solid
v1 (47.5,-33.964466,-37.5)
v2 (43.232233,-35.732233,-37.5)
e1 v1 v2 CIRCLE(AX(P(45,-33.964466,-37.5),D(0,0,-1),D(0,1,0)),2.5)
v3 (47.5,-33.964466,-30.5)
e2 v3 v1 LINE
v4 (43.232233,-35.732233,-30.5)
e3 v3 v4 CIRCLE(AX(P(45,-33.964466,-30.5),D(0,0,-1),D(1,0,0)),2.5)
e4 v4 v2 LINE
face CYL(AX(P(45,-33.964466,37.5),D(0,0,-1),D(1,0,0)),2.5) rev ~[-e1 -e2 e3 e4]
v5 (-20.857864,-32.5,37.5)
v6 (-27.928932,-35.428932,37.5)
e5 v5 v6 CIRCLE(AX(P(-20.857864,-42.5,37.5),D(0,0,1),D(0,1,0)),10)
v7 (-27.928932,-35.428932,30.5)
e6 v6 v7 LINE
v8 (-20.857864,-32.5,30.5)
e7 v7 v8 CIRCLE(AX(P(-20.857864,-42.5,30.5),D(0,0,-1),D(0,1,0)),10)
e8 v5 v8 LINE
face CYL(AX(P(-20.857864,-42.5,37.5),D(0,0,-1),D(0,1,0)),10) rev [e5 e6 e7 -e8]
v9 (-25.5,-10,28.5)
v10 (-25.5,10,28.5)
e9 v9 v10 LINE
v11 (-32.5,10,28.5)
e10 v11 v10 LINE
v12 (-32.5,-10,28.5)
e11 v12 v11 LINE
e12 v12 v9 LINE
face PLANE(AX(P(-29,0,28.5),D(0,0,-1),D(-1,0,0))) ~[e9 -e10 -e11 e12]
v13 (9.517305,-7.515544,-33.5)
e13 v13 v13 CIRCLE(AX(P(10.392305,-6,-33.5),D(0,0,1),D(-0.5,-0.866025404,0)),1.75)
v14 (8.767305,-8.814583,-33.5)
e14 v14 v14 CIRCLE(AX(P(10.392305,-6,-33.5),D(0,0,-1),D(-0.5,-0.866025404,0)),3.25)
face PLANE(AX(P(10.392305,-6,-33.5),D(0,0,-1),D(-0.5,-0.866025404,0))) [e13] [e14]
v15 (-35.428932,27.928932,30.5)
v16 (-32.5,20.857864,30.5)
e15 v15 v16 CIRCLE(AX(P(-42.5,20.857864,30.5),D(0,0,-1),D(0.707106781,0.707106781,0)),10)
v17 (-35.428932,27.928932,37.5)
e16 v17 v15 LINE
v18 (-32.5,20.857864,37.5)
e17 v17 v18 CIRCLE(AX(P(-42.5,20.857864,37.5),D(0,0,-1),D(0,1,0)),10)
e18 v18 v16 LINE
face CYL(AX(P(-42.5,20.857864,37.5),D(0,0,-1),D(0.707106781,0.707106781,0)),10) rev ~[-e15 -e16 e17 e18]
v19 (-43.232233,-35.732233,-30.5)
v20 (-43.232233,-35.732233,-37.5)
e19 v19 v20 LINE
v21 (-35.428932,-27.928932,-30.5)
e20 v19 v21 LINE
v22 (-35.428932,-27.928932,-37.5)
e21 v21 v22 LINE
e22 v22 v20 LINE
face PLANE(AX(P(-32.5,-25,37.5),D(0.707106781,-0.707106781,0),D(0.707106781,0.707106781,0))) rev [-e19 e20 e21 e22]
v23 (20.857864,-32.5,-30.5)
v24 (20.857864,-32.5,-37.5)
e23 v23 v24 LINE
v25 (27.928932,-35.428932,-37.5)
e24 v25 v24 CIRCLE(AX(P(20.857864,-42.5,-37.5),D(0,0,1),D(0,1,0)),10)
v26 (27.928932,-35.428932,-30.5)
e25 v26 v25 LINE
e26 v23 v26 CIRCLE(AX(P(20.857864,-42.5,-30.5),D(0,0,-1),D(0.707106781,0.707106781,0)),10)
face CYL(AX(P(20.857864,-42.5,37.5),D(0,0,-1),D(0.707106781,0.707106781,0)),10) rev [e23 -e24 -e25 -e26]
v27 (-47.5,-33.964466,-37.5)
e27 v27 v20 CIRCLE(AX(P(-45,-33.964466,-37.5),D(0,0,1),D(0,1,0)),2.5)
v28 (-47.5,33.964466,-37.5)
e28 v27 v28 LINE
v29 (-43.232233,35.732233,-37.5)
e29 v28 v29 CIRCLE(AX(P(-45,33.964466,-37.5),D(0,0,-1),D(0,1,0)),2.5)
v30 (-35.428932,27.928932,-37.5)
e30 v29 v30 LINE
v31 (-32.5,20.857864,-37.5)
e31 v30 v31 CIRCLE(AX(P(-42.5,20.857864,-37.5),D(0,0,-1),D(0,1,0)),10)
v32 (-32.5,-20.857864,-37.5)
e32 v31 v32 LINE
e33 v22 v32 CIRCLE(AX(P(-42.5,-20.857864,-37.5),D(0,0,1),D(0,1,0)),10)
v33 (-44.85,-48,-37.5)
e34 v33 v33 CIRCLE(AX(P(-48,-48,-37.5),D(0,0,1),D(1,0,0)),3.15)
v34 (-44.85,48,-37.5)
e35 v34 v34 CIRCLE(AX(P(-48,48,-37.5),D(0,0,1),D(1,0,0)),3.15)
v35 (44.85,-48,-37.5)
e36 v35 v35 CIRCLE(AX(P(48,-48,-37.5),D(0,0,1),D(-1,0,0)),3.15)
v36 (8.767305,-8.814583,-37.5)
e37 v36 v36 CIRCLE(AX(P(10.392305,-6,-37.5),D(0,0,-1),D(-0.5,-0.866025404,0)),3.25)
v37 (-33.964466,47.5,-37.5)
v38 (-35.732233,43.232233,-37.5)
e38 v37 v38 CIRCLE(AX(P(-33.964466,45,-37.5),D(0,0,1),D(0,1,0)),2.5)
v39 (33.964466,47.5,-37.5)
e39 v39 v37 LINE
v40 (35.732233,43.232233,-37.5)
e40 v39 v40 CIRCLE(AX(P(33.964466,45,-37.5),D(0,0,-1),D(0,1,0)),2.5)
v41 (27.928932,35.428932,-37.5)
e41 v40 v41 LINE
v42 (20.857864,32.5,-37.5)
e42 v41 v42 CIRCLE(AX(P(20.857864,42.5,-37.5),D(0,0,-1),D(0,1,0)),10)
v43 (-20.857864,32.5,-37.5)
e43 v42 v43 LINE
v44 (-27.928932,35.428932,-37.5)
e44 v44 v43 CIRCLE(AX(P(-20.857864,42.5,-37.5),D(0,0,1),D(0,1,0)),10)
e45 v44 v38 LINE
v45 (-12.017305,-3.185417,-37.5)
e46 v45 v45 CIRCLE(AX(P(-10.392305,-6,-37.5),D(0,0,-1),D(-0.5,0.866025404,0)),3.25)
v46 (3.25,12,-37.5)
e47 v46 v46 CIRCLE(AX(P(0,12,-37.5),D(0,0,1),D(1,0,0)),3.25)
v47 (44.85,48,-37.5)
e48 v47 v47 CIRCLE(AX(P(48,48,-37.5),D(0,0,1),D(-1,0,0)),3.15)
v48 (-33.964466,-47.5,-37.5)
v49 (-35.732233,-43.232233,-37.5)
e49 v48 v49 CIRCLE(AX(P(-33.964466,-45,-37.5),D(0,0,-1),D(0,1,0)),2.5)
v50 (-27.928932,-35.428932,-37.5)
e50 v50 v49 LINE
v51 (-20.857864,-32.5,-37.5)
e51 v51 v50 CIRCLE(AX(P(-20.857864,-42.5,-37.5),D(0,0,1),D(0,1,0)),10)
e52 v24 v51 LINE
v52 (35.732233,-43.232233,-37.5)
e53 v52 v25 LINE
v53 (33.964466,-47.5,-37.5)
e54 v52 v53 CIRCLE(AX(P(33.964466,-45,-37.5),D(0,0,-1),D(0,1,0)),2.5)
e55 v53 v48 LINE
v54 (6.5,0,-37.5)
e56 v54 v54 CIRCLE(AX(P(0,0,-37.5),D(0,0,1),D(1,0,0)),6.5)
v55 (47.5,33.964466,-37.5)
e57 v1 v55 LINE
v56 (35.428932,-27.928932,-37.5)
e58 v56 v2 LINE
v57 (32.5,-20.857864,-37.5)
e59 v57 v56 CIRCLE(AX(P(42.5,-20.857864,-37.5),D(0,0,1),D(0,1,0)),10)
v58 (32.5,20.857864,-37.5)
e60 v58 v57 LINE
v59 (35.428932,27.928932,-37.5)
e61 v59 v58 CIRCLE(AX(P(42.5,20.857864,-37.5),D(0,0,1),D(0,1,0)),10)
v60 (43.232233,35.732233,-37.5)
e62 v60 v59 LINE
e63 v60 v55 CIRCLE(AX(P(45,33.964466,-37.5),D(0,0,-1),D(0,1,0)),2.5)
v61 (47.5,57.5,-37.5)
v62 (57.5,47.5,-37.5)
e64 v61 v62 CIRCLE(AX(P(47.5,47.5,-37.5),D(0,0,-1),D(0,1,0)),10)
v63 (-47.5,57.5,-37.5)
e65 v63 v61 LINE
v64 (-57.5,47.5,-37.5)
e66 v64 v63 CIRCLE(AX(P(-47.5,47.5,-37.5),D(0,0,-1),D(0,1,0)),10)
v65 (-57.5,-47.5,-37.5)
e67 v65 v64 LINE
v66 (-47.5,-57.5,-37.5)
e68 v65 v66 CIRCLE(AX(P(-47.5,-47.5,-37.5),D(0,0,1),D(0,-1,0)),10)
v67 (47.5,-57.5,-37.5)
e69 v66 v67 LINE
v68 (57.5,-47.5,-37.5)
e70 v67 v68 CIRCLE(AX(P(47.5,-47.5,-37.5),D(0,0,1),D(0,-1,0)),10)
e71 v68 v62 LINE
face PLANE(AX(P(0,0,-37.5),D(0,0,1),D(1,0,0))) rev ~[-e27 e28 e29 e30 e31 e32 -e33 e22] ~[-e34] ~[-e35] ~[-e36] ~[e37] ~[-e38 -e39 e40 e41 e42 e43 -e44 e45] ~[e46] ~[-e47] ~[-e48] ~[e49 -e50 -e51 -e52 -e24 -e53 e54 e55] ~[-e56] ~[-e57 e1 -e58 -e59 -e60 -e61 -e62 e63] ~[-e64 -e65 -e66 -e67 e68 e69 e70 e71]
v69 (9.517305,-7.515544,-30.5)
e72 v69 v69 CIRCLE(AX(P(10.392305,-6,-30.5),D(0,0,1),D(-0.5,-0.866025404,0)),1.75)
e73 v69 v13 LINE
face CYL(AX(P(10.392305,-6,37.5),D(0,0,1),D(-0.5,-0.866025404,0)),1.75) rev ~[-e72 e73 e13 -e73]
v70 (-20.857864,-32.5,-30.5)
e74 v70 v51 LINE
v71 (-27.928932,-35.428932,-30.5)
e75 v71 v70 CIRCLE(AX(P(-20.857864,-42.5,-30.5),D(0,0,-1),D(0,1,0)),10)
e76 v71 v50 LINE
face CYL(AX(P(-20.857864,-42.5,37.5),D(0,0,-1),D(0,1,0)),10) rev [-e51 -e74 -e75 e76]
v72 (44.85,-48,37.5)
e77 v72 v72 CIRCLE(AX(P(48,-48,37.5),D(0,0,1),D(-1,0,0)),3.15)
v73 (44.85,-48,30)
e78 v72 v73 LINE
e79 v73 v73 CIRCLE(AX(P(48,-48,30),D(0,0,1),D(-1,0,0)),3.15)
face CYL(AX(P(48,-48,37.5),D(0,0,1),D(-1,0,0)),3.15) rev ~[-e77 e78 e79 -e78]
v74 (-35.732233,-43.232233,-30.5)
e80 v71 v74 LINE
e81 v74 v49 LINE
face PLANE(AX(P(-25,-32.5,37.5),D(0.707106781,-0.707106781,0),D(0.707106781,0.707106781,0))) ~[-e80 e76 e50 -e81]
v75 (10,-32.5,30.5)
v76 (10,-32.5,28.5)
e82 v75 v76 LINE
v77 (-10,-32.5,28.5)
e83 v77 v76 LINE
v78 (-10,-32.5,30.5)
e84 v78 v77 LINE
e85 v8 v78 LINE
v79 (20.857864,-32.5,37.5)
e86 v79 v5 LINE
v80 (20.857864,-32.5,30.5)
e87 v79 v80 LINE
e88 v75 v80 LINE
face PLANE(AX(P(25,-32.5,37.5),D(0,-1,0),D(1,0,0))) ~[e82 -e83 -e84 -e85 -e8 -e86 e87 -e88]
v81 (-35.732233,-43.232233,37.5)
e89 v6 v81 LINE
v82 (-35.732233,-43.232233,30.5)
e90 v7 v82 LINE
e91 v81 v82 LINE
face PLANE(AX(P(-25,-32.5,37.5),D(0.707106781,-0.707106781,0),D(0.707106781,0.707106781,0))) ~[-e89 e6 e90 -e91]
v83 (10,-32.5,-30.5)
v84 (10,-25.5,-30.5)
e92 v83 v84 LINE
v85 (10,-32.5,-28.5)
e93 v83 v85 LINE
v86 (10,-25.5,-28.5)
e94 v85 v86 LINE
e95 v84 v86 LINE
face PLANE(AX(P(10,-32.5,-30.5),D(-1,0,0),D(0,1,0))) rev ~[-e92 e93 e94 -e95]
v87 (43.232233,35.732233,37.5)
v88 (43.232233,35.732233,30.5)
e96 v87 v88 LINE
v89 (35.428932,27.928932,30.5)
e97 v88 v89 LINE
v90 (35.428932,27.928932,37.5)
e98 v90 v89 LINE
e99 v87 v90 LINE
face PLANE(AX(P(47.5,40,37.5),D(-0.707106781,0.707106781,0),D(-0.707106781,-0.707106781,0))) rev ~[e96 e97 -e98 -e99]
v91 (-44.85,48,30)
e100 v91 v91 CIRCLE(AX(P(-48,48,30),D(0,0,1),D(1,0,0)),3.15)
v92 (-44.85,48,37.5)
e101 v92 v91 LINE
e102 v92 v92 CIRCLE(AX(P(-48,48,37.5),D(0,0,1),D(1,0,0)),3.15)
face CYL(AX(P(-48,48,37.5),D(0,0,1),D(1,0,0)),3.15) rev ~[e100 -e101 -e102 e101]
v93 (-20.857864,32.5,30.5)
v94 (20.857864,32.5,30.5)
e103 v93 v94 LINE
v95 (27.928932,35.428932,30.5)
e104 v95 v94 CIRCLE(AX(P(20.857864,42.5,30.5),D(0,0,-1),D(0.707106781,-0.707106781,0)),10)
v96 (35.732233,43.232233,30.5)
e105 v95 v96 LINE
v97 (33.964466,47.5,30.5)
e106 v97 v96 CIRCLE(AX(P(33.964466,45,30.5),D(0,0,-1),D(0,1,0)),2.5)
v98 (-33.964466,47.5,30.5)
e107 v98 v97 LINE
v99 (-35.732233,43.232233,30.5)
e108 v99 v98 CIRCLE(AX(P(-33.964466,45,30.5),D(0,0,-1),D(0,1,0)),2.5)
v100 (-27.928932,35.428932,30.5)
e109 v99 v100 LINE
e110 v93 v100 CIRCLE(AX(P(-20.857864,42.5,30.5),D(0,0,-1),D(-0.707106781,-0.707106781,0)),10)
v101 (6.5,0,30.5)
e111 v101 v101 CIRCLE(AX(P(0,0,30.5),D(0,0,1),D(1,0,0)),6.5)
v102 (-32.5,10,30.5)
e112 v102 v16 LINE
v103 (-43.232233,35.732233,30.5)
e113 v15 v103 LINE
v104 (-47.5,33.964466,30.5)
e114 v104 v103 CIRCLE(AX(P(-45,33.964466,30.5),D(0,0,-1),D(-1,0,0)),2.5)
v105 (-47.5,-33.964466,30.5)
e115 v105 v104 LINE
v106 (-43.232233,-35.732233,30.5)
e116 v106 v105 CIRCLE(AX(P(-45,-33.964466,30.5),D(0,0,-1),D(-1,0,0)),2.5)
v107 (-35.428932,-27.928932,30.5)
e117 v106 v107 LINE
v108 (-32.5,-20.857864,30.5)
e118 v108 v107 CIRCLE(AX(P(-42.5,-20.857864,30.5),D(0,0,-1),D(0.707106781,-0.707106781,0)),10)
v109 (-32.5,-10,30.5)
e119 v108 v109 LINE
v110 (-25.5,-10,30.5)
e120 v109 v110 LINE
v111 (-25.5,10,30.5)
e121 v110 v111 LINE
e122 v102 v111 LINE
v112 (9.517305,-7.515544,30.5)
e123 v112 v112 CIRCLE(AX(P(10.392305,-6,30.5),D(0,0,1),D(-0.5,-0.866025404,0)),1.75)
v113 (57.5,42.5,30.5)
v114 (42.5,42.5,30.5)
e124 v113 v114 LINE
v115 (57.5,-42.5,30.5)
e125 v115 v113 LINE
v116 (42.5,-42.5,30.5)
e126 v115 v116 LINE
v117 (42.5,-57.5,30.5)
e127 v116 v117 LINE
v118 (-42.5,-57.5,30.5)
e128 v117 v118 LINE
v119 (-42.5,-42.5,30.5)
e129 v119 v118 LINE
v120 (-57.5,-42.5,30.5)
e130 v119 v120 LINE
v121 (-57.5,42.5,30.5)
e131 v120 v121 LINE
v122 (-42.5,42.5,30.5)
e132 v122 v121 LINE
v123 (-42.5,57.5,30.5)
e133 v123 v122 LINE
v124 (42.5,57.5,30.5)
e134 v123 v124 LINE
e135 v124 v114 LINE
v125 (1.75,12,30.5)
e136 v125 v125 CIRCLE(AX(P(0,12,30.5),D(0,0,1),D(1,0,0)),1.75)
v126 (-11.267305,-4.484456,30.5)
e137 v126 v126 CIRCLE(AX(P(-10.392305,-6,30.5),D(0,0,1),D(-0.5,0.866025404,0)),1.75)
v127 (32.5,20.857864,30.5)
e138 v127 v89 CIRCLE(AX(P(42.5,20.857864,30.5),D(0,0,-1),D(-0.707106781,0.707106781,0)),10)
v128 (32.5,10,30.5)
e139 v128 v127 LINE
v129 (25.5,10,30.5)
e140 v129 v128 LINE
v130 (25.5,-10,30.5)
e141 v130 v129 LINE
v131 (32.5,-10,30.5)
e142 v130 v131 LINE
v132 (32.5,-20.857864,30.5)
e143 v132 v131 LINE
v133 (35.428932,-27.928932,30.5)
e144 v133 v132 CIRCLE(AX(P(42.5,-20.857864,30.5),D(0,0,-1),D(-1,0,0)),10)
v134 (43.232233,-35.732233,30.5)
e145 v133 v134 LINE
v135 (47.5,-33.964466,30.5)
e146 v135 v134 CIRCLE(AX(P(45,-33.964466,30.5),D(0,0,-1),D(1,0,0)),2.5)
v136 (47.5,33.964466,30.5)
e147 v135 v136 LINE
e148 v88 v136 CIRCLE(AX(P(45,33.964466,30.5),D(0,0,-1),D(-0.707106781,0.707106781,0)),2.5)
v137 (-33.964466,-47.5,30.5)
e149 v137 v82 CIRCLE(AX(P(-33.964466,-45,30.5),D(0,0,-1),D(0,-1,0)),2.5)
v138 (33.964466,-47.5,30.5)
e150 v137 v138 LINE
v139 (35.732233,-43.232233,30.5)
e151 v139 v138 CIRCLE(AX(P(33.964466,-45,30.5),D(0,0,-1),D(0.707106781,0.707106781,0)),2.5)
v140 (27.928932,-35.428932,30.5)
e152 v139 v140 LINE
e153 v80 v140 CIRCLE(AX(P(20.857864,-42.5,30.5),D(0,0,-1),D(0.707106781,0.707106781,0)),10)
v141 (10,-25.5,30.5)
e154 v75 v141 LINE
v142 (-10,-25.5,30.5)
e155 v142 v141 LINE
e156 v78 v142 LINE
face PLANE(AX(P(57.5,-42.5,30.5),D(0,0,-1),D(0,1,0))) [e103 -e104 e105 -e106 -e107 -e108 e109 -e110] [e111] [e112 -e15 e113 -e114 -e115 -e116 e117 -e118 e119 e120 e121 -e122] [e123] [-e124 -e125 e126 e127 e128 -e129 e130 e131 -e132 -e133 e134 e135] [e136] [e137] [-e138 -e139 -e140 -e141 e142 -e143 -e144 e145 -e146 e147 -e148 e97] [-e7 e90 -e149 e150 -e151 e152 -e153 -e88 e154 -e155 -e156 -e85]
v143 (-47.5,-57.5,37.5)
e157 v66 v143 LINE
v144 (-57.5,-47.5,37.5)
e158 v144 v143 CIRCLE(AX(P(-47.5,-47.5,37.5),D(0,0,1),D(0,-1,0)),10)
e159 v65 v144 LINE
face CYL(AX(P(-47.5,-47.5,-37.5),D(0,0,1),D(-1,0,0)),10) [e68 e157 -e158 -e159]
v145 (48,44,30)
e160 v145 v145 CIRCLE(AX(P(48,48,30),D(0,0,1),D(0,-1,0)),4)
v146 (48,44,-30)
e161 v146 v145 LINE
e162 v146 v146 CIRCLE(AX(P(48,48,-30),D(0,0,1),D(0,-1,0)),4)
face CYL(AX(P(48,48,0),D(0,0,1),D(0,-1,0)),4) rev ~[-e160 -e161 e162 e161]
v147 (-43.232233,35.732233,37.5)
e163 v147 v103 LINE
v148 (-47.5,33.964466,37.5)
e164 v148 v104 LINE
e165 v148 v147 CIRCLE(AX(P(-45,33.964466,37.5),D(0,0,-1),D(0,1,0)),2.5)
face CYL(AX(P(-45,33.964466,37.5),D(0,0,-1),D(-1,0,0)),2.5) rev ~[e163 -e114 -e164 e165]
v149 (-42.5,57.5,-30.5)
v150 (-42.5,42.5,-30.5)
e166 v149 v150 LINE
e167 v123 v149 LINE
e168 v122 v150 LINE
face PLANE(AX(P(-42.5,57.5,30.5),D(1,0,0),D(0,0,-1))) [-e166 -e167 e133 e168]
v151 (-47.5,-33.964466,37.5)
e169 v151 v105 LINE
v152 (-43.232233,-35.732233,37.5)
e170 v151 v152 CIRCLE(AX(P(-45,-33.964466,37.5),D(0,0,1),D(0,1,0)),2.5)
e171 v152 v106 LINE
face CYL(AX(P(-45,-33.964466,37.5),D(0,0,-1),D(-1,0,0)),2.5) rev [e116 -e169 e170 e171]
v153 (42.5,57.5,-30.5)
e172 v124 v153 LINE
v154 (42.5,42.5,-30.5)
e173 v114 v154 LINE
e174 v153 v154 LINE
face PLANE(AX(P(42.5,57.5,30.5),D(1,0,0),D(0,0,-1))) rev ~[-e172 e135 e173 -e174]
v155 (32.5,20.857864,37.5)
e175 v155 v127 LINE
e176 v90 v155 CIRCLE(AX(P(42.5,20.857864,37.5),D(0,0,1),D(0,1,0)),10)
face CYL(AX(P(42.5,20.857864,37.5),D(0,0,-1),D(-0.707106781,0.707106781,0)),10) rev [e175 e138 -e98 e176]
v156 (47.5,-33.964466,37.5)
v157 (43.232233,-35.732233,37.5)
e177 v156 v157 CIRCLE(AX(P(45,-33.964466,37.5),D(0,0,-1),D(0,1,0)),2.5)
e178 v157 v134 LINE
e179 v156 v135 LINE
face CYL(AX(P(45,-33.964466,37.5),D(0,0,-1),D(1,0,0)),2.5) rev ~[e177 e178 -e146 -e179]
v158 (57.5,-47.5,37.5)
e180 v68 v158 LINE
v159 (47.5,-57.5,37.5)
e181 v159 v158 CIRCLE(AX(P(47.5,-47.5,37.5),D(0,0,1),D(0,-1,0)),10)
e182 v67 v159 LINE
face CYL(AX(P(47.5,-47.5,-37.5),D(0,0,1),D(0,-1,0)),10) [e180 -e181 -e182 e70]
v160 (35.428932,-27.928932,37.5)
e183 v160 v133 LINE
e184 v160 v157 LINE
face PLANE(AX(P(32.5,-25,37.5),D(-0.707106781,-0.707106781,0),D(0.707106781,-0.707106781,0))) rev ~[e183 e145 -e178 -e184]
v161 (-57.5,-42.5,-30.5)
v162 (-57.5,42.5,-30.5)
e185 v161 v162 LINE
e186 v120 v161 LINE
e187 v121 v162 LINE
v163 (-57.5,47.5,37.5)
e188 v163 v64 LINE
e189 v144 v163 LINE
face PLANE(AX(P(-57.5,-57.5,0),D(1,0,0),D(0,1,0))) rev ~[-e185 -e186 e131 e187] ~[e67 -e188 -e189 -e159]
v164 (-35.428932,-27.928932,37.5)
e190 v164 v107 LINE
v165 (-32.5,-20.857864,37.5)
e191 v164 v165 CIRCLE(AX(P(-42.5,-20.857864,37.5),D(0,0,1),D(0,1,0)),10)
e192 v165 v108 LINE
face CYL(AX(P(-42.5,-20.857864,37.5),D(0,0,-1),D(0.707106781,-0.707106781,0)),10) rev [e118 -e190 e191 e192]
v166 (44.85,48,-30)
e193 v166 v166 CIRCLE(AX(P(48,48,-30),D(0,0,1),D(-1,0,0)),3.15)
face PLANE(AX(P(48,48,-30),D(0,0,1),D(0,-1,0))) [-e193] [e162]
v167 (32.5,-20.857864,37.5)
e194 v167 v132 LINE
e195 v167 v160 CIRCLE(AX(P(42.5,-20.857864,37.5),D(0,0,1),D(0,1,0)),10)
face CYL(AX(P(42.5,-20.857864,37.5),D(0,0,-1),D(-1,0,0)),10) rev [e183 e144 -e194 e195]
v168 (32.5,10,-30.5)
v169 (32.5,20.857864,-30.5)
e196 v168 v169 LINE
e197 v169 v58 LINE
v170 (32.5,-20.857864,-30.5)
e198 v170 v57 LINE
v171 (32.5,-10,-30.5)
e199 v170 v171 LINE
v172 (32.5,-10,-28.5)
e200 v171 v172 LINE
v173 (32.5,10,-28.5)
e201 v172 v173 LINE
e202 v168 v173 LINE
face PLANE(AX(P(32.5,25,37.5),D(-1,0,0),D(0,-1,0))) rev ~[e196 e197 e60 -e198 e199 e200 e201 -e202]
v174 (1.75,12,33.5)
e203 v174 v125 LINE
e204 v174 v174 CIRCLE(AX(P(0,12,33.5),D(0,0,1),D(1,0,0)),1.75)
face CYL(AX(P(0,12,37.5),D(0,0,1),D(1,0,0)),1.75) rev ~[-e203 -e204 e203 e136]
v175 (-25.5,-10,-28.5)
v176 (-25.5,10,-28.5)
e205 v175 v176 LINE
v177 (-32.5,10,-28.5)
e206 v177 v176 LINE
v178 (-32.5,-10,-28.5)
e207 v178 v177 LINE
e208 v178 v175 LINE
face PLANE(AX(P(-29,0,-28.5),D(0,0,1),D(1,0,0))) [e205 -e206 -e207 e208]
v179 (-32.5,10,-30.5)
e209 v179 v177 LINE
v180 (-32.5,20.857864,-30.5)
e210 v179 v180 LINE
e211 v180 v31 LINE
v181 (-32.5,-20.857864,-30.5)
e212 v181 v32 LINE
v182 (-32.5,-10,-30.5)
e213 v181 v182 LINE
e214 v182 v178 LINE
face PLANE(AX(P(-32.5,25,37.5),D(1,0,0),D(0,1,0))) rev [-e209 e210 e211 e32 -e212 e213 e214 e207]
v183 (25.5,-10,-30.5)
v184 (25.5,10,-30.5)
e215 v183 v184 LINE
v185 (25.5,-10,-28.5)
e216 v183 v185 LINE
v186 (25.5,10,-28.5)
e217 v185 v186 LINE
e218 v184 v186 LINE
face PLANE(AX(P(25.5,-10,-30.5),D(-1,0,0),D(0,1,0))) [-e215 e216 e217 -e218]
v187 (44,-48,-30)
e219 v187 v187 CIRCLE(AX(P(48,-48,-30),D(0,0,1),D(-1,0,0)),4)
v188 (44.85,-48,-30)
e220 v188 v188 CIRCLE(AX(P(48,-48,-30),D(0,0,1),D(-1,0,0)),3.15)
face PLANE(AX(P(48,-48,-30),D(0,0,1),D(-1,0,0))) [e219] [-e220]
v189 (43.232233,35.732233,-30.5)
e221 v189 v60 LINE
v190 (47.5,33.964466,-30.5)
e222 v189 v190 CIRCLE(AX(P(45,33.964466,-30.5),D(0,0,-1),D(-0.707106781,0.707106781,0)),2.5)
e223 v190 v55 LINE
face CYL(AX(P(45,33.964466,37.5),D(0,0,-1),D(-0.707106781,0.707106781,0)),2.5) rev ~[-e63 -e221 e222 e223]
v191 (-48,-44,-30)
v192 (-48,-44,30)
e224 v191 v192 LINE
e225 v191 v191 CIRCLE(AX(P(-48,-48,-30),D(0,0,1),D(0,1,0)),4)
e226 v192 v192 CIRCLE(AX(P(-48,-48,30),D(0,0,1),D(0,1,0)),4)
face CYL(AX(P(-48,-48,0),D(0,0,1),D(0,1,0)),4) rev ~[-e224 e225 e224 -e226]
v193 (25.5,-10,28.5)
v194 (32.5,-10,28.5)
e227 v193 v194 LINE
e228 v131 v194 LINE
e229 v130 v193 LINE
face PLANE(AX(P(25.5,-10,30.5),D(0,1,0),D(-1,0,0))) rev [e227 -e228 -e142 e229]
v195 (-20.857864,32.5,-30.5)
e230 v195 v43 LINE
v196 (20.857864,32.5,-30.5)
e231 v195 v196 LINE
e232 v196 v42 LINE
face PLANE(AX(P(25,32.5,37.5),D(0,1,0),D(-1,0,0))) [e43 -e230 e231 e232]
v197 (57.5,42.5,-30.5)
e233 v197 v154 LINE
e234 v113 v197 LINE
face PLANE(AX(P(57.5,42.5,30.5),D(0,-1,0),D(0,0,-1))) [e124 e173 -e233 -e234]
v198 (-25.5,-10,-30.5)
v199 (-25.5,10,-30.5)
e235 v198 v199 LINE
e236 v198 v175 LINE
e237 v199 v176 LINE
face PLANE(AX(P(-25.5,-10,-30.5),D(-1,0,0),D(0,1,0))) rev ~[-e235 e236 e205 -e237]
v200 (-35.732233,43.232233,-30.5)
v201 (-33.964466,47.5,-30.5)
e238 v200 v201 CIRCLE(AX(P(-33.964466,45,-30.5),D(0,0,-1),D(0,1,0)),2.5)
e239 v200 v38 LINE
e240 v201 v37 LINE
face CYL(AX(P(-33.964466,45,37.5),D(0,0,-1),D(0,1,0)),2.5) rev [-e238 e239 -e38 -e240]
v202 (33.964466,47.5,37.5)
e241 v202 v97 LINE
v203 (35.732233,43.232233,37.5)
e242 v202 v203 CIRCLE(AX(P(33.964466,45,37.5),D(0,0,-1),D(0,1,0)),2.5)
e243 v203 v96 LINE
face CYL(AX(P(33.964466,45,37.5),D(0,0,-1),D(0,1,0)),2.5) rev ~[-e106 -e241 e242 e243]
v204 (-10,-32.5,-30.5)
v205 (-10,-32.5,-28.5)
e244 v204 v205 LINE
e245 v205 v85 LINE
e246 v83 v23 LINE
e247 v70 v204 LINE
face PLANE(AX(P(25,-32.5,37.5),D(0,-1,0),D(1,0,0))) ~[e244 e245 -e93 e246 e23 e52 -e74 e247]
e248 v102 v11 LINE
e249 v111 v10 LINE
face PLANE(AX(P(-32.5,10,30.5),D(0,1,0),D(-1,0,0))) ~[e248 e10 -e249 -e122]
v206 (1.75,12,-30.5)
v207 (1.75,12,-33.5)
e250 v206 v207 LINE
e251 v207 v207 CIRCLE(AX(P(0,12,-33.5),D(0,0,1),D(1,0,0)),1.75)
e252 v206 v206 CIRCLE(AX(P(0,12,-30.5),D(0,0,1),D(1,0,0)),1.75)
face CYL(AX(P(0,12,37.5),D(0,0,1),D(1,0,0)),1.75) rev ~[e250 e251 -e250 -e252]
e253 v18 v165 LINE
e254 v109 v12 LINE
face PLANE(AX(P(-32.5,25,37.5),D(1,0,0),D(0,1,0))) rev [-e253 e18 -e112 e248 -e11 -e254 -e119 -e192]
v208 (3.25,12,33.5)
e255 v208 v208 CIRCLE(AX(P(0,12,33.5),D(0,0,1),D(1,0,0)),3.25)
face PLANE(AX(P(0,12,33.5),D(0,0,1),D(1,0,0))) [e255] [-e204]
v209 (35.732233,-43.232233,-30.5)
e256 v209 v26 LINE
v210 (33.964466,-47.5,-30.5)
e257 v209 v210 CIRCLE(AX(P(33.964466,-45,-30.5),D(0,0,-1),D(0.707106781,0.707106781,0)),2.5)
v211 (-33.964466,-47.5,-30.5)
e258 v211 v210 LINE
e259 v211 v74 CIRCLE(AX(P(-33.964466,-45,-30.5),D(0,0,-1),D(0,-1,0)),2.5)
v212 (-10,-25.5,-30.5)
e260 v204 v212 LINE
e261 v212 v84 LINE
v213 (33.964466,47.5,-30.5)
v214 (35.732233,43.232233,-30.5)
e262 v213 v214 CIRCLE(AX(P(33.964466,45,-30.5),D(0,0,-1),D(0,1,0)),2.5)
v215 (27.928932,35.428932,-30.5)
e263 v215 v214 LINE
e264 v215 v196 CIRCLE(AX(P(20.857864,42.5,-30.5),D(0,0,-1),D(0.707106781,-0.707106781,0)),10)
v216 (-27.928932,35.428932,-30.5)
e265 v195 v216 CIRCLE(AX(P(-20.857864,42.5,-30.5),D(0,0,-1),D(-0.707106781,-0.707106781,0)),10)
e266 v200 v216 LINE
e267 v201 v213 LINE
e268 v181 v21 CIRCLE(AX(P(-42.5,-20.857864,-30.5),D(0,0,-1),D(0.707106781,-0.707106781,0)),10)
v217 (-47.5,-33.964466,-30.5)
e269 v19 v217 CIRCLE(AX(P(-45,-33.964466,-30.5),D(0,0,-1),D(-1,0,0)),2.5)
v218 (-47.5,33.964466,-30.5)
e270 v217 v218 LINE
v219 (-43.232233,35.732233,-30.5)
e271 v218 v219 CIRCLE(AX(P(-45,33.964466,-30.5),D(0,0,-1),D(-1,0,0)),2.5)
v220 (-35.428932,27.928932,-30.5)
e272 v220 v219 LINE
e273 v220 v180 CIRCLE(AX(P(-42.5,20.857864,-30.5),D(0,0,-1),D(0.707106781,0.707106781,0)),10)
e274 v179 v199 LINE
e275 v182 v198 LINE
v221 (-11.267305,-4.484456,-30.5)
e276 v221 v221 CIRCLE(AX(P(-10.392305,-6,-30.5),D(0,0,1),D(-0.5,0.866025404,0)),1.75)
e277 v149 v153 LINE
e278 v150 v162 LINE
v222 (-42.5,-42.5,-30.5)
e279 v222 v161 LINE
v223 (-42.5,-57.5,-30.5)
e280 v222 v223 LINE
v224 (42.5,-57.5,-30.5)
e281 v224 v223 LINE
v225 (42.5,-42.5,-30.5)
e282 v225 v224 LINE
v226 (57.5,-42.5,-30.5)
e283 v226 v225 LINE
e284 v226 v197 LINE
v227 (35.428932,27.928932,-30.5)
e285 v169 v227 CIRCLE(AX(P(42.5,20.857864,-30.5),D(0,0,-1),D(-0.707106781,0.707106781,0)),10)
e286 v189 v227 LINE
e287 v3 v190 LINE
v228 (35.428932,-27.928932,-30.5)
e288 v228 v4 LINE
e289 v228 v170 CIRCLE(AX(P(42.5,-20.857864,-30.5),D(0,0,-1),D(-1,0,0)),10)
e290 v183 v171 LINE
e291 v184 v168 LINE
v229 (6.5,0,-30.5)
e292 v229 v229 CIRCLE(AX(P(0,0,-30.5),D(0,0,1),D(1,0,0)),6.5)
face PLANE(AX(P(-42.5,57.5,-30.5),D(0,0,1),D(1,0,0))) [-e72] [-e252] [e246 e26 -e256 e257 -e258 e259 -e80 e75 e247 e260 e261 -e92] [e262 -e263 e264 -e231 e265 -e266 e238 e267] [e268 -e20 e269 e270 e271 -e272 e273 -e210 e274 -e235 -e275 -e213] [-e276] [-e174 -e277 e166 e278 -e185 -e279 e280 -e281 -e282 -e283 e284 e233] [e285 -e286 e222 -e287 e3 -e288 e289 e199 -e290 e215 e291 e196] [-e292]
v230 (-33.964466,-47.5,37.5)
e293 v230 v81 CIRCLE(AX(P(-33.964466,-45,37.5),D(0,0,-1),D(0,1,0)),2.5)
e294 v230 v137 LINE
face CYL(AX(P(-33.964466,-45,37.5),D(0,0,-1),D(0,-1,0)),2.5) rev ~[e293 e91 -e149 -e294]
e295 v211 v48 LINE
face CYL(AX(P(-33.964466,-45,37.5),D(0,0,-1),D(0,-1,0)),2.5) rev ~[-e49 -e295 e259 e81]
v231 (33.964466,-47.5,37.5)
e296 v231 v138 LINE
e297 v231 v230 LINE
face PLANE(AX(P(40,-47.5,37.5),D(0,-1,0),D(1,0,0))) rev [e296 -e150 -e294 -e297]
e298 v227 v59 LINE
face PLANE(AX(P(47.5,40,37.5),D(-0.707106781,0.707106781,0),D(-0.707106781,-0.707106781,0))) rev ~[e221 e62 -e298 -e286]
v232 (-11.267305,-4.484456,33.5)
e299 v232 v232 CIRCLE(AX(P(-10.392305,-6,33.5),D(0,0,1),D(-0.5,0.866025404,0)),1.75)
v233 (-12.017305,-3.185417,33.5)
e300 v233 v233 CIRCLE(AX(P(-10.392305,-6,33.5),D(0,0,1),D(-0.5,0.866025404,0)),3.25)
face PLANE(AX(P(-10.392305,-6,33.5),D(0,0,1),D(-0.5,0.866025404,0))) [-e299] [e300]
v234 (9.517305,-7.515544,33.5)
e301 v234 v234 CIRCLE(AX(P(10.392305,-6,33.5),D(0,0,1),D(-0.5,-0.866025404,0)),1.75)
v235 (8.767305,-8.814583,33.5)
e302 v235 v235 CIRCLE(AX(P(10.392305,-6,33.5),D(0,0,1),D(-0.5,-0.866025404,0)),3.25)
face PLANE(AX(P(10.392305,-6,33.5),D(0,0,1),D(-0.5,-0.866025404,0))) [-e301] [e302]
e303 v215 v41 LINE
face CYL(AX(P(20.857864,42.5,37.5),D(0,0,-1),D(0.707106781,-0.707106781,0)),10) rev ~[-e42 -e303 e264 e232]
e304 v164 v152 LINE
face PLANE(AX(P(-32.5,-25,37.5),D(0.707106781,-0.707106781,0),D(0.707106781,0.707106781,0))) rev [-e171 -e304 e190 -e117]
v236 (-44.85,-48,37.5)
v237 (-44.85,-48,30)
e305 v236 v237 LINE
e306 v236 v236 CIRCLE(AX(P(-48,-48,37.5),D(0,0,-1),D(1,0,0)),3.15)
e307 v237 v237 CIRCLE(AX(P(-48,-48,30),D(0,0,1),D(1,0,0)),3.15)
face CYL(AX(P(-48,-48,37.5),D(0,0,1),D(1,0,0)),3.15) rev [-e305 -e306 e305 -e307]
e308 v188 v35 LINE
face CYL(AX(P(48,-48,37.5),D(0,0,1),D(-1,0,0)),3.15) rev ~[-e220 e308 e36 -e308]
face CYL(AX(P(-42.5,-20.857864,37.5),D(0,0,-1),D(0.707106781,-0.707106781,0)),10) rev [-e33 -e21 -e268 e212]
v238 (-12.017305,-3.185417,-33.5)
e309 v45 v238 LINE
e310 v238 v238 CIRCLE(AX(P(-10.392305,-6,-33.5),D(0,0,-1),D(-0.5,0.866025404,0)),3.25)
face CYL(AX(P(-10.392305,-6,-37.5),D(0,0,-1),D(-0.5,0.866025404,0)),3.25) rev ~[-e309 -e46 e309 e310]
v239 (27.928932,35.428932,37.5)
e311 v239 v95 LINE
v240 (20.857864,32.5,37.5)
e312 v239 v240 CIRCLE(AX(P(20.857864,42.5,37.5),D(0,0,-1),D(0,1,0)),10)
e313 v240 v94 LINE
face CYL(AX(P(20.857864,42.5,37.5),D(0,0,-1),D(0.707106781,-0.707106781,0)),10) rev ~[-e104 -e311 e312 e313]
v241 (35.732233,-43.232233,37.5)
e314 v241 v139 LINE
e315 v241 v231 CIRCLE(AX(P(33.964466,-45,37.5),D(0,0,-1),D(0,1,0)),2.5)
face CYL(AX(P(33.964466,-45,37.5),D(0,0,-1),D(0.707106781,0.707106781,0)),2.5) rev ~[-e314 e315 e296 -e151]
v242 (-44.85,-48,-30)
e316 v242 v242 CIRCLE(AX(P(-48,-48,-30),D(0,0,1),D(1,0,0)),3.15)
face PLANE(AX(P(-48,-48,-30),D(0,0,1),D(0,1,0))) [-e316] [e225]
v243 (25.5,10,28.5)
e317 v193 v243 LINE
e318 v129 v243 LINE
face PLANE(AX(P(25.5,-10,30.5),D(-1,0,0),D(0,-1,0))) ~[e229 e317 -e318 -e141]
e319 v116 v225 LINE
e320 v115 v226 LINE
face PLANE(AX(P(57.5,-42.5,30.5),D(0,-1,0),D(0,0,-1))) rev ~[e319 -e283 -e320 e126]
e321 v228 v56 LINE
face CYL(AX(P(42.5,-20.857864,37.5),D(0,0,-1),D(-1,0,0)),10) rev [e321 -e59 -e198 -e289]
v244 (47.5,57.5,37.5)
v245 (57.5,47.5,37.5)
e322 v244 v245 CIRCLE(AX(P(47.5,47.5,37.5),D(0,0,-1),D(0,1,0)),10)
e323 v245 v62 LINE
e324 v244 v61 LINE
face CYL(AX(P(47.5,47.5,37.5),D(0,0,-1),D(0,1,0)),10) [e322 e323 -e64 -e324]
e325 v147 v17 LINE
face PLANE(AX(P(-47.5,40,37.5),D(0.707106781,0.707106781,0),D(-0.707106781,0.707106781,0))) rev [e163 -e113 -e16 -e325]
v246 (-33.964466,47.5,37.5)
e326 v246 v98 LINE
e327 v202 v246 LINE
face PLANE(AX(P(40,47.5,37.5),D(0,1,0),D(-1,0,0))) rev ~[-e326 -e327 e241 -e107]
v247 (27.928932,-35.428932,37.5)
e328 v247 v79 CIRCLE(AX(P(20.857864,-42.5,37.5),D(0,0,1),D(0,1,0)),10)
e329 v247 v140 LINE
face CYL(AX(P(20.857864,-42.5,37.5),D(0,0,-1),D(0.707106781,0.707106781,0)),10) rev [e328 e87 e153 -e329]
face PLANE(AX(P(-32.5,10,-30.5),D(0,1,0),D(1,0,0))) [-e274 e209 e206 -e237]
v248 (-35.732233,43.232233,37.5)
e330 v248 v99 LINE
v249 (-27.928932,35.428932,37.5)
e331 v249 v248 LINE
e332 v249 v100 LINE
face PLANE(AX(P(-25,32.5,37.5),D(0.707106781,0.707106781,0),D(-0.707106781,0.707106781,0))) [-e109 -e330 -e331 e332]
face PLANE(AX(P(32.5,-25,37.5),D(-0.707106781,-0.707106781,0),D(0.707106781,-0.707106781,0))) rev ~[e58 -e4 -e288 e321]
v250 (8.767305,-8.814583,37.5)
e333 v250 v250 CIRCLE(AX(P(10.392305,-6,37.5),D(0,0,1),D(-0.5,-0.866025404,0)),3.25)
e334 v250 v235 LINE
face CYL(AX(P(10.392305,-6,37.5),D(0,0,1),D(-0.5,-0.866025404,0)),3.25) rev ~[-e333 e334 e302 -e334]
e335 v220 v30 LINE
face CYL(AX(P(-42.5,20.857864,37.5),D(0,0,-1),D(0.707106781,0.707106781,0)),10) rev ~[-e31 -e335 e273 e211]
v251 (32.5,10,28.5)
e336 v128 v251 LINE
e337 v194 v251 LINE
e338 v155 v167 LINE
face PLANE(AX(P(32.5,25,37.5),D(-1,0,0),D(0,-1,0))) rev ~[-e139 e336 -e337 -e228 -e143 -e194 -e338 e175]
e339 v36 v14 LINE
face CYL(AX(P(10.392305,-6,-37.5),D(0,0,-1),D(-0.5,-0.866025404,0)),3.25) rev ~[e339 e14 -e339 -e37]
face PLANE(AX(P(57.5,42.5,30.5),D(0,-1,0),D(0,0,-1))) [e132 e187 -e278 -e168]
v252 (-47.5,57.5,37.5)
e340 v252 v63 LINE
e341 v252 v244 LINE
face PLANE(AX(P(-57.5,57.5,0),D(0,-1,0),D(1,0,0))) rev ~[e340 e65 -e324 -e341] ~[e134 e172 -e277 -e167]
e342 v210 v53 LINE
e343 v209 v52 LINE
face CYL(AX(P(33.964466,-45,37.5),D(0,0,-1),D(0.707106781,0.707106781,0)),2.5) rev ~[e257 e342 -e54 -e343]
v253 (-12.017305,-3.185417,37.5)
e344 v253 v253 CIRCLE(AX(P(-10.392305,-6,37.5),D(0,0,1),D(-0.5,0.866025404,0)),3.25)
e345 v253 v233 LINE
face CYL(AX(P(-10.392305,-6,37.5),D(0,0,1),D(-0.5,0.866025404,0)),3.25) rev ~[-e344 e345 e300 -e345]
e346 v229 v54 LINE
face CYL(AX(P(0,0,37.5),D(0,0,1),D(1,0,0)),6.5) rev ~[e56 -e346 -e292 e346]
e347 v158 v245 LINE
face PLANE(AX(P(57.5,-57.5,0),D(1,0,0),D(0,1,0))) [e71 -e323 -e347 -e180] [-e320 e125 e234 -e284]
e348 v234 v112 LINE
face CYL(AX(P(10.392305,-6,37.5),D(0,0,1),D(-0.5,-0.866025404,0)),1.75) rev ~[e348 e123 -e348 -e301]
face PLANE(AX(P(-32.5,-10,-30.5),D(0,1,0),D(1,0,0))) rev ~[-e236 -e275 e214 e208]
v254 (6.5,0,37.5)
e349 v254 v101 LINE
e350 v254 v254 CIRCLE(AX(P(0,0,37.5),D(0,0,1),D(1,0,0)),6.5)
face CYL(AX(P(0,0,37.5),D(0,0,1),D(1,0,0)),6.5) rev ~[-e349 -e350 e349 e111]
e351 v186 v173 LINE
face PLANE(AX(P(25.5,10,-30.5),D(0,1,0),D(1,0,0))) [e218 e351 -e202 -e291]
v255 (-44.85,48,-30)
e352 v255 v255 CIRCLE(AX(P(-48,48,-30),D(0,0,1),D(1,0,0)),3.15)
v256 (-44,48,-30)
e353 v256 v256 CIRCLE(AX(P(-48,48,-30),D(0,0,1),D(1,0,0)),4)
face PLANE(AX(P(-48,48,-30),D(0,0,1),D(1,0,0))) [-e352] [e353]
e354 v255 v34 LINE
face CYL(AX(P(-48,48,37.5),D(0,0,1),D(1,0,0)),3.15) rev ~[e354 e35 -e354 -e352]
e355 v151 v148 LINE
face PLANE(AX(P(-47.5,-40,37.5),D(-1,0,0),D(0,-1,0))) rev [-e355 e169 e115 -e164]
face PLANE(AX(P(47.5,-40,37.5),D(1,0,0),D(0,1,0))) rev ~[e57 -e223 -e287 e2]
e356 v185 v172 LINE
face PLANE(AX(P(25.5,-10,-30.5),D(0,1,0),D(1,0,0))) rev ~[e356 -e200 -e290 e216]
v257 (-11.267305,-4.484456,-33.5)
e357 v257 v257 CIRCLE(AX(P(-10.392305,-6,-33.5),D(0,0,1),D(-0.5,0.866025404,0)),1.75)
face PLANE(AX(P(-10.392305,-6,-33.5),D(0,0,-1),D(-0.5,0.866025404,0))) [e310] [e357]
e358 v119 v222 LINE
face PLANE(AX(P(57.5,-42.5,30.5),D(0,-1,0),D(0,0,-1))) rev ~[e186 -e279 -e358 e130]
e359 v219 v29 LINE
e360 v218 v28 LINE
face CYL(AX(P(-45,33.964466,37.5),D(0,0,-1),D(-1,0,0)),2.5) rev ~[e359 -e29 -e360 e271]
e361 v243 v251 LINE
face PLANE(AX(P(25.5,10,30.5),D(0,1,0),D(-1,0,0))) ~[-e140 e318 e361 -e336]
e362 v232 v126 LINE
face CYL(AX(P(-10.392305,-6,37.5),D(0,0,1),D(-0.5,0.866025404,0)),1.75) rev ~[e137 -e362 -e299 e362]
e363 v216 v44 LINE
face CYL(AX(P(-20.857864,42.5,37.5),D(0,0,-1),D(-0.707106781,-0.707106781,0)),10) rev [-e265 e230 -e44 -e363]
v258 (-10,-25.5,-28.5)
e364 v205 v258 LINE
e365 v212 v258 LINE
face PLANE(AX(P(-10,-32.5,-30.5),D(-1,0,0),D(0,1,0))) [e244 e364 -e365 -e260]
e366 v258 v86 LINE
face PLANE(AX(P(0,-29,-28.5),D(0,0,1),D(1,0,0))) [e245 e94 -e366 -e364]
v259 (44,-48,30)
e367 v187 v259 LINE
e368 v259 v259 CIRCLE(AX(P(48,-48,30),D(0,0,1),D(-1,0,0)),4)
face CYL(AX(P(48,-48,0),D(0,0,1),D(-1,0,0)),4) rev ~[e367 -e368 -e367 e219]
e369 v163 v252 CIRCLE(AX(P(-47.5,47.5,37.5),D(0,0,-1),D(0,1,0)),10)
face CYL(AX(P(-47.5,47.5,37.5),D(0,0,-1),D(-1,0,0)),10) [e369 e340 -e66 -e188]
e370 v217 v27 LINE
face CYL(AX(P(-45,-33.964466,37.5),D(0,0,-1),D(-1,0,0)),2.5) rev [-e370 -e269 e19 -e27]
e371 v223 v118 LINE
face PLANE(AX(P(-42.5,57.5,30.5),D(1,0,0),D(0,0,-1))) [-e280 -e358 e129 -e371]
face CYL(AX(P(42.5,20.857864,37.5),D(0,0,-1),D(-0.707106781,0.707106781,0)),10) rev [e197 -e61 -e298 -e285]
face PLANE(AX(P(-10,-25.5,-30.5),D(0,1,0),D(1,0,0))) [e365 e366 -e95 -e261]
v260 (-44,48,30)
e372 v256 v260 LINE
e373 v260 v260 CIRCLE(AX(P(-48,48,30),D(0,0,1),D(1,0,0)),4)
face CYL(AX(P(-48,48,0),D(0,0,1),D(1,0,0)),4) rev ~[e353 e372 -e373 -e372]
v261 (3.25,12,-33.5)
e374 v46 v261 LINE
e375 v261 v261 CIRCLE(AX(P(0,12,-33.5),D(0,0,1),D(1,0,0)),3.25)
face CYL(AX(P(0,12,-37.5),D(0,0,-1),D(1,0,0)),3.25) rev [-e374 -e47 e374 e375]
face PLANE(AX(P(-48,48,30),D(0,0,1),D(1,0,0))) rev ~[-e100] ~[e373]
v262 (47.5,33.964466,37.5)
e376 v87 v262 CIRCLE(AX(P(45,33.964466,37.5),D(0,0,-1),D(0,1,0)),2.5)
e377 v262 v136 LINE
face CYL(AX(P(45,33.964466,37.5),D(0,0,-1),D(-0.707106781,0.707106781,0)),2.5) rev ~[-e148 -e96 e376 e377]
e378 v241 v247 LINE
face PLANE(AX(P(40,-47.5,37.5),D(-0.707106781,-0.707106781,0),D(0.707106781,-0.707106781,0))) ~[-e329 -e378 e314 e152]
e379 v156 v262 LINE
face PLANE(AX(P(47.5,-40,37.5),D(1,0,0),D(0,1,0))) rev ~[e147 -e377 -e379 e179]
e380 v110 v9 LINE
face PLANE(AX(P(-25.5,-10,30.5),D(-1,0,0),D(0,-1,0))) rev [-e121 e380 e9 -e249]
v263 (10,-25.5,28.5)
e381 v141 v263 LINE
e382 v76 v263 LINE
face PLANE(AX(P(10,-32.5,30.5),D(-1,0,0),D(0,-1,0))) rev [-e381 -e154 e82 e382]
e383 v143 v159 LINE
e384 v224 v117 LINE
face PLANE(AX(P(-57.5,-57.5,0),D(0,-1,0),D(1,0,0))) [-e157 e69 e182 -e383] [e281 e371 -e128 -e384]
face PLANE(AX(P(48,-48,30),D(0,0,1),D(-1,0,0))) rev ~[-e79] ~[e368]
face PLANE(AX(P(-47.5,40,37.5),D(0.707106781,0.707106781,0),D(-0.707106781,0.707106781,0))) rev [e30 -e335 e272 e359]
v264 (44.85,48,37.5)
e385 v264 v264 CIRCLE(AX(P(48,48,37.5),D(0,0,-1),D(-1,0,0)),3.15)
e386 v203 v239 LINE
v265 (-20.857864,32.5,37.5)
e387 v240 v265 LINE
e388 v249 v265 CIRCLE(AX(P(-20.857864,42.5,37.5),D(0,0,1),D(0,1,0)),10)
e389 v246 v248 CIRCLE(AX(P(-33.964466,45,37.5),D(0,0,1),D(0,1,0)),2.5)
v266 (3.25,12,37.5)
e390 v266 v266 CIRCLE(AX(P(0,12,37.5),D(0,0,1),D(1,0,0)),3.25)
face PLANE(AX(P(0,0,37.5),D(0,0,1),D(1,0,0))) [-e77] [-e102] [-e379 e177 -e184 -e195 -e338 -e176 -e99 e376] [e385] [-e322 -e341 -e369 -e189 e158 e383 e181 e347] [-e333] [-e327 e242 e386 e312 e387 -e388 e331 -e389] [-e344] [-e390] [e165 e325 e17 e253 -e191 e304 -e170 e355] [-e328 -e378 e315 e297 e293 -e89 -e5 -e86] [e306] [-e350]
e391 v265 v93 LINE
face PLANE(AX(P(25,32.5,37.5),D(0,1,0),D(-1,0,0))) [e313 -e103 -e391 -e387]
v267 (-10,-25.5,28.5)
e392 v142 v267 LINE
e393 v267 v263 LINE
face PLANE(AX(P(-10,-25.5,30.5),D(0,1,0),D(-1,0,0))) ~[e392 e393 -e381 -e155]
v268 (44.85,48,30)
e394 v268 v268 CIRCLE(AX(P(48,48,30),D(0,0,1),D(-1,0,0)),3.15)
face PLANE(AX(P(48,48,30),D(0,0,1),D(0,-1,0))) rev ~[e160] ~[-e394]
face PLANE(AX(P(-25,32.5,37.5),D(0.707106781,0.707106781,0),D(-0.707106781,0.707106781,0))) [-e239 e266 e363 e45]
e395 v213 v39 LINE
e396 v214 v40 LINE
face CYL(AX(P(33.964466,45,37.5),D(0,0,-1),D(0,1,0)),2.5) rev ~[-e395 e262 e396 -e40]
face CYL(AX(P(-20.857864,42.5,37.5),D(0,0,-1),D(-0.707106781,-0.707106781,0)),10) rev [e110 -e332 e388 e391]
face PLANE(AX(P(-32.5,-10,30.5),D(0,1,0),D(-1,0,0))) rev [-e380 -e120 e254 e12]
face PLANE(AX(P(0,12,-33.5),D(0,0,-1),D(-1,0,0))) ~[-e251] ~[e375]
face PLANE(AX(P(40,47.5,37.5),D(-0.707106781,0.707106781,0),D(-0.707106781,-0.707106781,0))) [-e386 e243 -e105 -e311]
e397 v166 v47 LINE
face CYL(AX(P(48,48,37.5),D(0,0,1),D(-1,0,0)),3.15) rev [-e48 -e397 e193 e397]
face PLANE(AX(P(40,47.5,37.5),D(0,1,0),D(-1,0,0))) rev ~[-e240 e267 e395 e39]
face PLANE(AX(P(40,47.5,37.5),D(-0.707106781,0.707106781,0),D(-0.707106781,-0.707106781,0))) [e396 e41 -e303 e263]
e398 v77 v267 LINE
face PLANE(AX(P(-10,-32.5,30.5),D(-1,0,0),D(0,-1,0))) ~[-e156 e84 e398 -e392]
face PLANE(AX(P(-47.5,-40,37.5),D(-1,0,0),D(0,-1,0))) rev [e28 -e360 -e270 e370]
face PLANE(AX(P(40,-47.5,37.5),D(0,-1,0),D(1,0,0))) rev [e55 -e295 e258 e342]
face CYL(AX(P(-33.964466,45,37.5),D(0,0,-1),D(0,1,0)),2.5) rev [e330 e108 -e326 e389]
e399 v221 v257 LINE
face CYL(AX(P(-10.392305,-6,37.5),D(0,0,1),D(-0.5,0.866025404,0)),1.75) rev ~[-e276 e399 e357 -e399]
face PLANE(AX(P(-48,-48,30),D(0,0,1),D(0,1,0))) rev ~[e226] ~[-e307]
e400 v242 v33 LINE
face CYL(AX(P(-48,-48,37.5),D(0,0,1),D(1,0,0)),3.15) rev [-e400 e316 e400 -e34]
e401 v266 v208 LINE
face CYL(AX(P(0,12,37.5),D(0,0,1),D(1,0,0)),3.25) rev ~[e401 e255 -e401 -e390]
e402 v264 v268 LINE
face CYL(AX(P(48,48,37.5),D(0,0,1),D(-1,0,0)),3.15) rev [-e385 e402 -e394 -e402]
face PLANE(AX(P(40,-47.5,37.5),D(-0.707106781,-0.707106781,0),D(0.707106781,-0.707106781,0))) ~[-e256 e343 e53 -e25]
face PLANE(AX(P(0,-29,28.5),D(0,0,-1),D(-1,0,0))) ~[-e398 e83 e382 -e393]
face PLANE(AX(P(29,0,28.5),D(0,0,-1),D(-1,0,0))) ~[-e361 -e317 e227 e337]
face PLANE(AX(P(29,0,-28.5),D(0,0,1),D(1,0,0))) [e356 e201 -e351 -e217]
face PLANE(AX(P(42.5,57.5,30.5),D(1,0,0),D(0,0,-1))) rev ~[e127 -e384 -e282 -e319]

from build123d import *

# Parameters (mm, degrees)
SKETCH1_W                                  = 115
SKETCH1_H                                  = 115
BOSS_EXTRUDE1_DEPTH                        = 37.5
SKETCH3_R                                  = 3.15
CUT_EXTRUDE2_DEPTH                         = 80
MIRROR1_AT_THE_SECOND_PLANE_COPY_1_SKETC_R = 3.15
MIRROR1_AT_THE_SECOND_PLANE_COPY_1_DEPTH   = 80
FILLET1_R                                  = 10
CUT_EXTRUDE3_DEPTH                         = 80
CUT_EXTRUDE6_DEPTH                         = 80
FILLET2_R                                  = 2.5
FILLET3_R                                  = 10
SKETCH9_W                                  = 85
SKETCH9_H                                  = 61
CUT_EXTRUDE7_DEPTH                         = 130
SKETCH10_W                                 = 61
SKETCH10_H                                 = 85
CUT_EXTRUDE8_DEPTH                         = 120
SKETCH12_R                                 = 6.5
CUT_EXTRUDE9_DEPTH                         = 80
SKETCH13_R                                 = 1.75
CUT_EXTRUDE10_DEPTH                        = 80
CIRPATTERN1_COUNT                          = 3
SKETCH14_R                                 = 3.25
CUT_EXTRUDE11_DEPTH                        = 4
CIRPATTERN2_COUNT                          = 3
MIRROR4_COPY_1_SKETCH_R                    = 3.25
MIRROR4_COPY_1_DEPTH                       = 4
MIRROR4_COPY_2_SKETCH_R                    = 3.25
MIRROR4_COPY_2_DEPTH                       = 4
SKETCH17_R                                 = 4
CUT_EXTRUDE12_DEPTH                        = 30
CIRPATTERN3_COUNT                          = 4
SKETCH18_W                                 = 7
SKETCH18_H                                 = 20
SKETCH18_W_2                               = 20
SKETCH18_H_2                               = 7
BOSS_EXTRUDE3_DEPTH                        = 2


with BuildPart() as part:
    # Sketch1 → Boss-Extrude1 (new, symmetric)
    with BuildSketch(Plane.XY):
        Rectangle(SKETCH1_W, SKETCH1_H)
    extrude(amount=BOSS_EXTRUDE1_DEPTH, both=True)

    # Sketch3 → Cut-Extrude2 (cut)
    with BuildSketch(Plane.XY.offset(37.5)):
        with Locations((-48, 48)):
            Circle(SKETCH3_R)
    cut_extrude2 = extrude(amount=-CUT_EXTRUDE2_DEPTH, mode=Mode.SUBTRACT)

    # Mirror1: Cut-Extrude2 across plane
    add(cut_extrude2.mirror(Plane.ZX), mode=Mode.SUBTRACT)

    # Mirror1 at the second plane: Cut-Extrude2 across plane
    add(cut_extrude2.mirror(Plane(origin=(0, 0, 0), x_dir=(0, 0, 1), z_dir=(1, 0, 0))), mode=Mode.SUBTRACT)

    # Mirror1 at the second plane copy 1 sketc → Mirror1 at the second plane copy 1 (cut)
    with BuildSketch(Plane(origin=(0, 0, 37.5), x_dir=(-1, 0, 0), z_dir=(0, 0, 1))):
        with Locations((-48, 48)):
            Circle(MIRROR1_AT_THE_SECOND_PLANE_COPY_1_SKETC_R)
    extrude(amount=-MIRROR1_AT_THE_SECOND_PLANE_COPY_1_DEPTH, mode=Mode.SUBTRACT)

    # Fillet1
    fillet1_edges = [part.edges().sort_by_distance(p)[0] for p in [
        (-57.5, 57.5, 0),
        (57.5, 57.5, 0),
        (57.5, -57.5, 0),
        (-57.5, -57.5, 0),
    ]]
    fillet(fillet1_edges, radius=FILLET1_R)

    # Sketch5 → Cut-Extrude3 (cut)
    with BuildSketch(Plane.XY.offset(37.5)):
        Polygon((-40, 47.5), (-25, 47.5), (25, 47.5), (40, 47.5), (25, 32.5), (-25, 32.5), align=None)
    cut_extrude3 = extrude(amount=-CUT_EXTRUDE3_DEPTH, mode=Mode.SUBTRACT)

    # Mirror2: Cut-Extrude3 across plane
    add(cut_extrude3.mirror(Plane.ZX), mode=Mode.SUBTRACT)

    # Sketch8 → Cut-Extrude6 (cut)
    with BuildSketch(Plane.XY.offset(37.5)):
        Polygon((47.5, 25), (47.5, 40), (32.5, 25), (32.5, -25), (47.5, -40), (47.5, -25), align=None)
    cut_extrude6 = extrude(amount=-CUT_EXTRUDE6_DEPTH, mode=Mode.SUBTRACT)

    # Mirror3: Cut-Extrude6 across plane
    add(cut_extrude6.mirror(Plane(origin=(0, 0, 0), x_dir=(0, 0, 1), z_dir=(1, 0, 0))), mode=Mode.SUBTRACT)

    # Fillet2
    fillet2_edges = [part.edges().sort_by_distance(p)[0] for p in [
        (47.5, 40, 0),
        (47.5, -40, 0),
        (-47.5, 40, 0),
        (-47.5, -40, 0),
        (40, 47.5, 0),
        (-40, 47.5, 0),
        (40, -47.5, 0),
        (-40, -47.5, 0),
    ]]
    fillet(fillet2_edges, radius=FILLET2_R)

    # Fillet3
    fillet3_edges = [part.edges().sort_by_distance(p)[0] for p in [
        (32.5, 25, 0),
        (32.5, -25, 0),
        (-32.5, 25, 0),
        (-32.5, -25, 0),
        (25, 32.5, 0),
        (-25, 32.5, 0),
        (-25, -32.5, 0),
        (25, -32.5, 0),
    ]]
    fillet(fillet3_edges, radius=FILLET3_R)

    # Sketch9 → Cut-Extrude7 (cut)
    with BuildSketch(Plane(origin=(0, 57.5, 0), x_dir=(1, 0, 0), z_dir=(0, 1, 0))):
        Rectangle(SKETCH9_W, SKETCH9_H)
    extrude(amount=-CUT_EXTRUDE7_DEPTH, mode=Mode.SUBTRACT)

    # Sketch10 → Cut-Extrude8 (cut)
    with BuildSketch(Plane(origin=(57.5, 0, 0), x_dir=(0, 0, -1), z_dir=(1, 0, 0))):
        Rectangle(SKETCH10_W, SKETCH10_H)
    extrude(amount=-CUT_EXTRUDE8_DEPTH, mode=Mode.SUBTRACT)

    # Sketch12 → Cut-Extrude9 (cut)
    with BuildSketch(Plane.XY.offset(37.5)):
        Circle(SKETCH12_R)
    extrude(amount=-CUT_EXTRUDE9_DEPTH, mode=Mode.SUBTRACT)

    # Sketch13 → Cut-Extrude10 (cut)
    with BuildSketch(Plane.XY.offset(37.5)):
        with Locations((0, 12)):
            Circle(SKETCH13_R)
    cut_extrude10 = extrude(amount=-CUT_EXTRUDE10_DEPTH, mode=Mode.SUBTRACT)

    # CirPattern1: Cut-Extrude10 ×3 about axis
    cirpattern1_axis = Axis((0, 0, 0), (0, 0, 1))
    for i in range(1, CIRPATTERN1_COUNT):
        add(cut_extrude10.rotate(cirpattern1_axis, i * 360 / CIRPATTERN1_COUNT), mode=Mode.SUBTRACT)

    # Sketch14 → Cut-Extrude11 (cut)
    with BuildSketch(Plane.XY.offset(37.5)):
        with Locations((0, 12)):
            Circle(SKETCH14_R)
    cut_extrude11 = extrude(amount=-CUT_EXTRUDE11_DEPTH, mode=Mode.SUBTRACT)

    # CirPattern2: Cut-Extrude11 ×3 about axis
    cirpattern2_axis = Axis((0, 0, 0), (0, 0, 1))
    for i in range(1, CIRPATTERN2_COUNT):
        add(cut_extrude11.rotate(cirpattern2_axis, i * 360 / CIRPATTERN2_COUNT), mode=Mode.SUBTRACT)

    # Mirror4: Cut-Extrude11 across plane
    add(cut_extrude11.mirror(Plane.XY), mode=Mode.SUBTRACT)

    # Mirror4 copy 1 sketch → Mirror4 copy 1 (cut)
    with BuildSketch(Plane(origin=(0, 0, -37.5), x_dir=(-0.4999999999999998, 0.8660254037844387, 0), z_dir=(0, 0, -1))):
        with Locations((0, -12)):
            Circle(MIRROR4_COPY_1_SKETCH_R)
    extrude(amount=-MIRROR4_COPY_1_DEPTH, mode=Mode.SUBTRACT)

    # Mirror4 copy 2 sketch → Mirror4 copy 2 (cut)
    with BuildSketch(Plane(origin=(0, 0, -37.5), x_dir=(-0.5000000000000004, -0.8660254037844384, 0), z_dir=(0, 0, -1))):
        with Locations((0, -12)):
            Circle(MIRROR4_COPY_2_SKETCH_R)
    extrude(amount=-MIRROR4_COPY_2_DEPTH, mode=Mode.SUBTRACT)

    # Sketch17 → Cut-Extrude12 (cut, symmetric)
    with BuildSketch(Plane.XY):
        with Locations((-48, 48)):
            Circle(SKETCH17_R)
    cut_extrude12 = extrude(amount=CUT_EXTRUDE12_DEPTH, both=True, mode=Mode.SUBTRACT)

    # CirPattern3: Cut-Extrude12 ×4 about axis
    cirpattern3_axis = Axis((0, 0, 0), (0, 0, 1))
    for i in range(1, CIRPATTERN3_COUNT):
        add(cut_extrude12.rotate(cirpattern3_axis, i * 360 / CIRPATTERN3_COUNT), mode=Mode.SUBTRACT)

    # Sketch18 → Boss-Extrude3 (add)
    with BuildSketch(Plane.XY.offset(-30.5)):
        with Locations((-29, 0)):
            Rectangle(SKETCH18_W, SKETCH18_H)
        with Locations((29, 0)):
            Rectangle(SKETCH18_W, SKETCH18_H)
        with Locations((0, -29)):
            Rectangle(SKETCH18_W_2, SKETCH18_H_2)
    boss_extrude3 = extrude(amount=BOSS_EXTRUDE3_DEPTH)

    # Mirror5: Boss-Extrude3 across plane
    add(boss_extrude3.mirror(Plane.XY))


solid = part.part
